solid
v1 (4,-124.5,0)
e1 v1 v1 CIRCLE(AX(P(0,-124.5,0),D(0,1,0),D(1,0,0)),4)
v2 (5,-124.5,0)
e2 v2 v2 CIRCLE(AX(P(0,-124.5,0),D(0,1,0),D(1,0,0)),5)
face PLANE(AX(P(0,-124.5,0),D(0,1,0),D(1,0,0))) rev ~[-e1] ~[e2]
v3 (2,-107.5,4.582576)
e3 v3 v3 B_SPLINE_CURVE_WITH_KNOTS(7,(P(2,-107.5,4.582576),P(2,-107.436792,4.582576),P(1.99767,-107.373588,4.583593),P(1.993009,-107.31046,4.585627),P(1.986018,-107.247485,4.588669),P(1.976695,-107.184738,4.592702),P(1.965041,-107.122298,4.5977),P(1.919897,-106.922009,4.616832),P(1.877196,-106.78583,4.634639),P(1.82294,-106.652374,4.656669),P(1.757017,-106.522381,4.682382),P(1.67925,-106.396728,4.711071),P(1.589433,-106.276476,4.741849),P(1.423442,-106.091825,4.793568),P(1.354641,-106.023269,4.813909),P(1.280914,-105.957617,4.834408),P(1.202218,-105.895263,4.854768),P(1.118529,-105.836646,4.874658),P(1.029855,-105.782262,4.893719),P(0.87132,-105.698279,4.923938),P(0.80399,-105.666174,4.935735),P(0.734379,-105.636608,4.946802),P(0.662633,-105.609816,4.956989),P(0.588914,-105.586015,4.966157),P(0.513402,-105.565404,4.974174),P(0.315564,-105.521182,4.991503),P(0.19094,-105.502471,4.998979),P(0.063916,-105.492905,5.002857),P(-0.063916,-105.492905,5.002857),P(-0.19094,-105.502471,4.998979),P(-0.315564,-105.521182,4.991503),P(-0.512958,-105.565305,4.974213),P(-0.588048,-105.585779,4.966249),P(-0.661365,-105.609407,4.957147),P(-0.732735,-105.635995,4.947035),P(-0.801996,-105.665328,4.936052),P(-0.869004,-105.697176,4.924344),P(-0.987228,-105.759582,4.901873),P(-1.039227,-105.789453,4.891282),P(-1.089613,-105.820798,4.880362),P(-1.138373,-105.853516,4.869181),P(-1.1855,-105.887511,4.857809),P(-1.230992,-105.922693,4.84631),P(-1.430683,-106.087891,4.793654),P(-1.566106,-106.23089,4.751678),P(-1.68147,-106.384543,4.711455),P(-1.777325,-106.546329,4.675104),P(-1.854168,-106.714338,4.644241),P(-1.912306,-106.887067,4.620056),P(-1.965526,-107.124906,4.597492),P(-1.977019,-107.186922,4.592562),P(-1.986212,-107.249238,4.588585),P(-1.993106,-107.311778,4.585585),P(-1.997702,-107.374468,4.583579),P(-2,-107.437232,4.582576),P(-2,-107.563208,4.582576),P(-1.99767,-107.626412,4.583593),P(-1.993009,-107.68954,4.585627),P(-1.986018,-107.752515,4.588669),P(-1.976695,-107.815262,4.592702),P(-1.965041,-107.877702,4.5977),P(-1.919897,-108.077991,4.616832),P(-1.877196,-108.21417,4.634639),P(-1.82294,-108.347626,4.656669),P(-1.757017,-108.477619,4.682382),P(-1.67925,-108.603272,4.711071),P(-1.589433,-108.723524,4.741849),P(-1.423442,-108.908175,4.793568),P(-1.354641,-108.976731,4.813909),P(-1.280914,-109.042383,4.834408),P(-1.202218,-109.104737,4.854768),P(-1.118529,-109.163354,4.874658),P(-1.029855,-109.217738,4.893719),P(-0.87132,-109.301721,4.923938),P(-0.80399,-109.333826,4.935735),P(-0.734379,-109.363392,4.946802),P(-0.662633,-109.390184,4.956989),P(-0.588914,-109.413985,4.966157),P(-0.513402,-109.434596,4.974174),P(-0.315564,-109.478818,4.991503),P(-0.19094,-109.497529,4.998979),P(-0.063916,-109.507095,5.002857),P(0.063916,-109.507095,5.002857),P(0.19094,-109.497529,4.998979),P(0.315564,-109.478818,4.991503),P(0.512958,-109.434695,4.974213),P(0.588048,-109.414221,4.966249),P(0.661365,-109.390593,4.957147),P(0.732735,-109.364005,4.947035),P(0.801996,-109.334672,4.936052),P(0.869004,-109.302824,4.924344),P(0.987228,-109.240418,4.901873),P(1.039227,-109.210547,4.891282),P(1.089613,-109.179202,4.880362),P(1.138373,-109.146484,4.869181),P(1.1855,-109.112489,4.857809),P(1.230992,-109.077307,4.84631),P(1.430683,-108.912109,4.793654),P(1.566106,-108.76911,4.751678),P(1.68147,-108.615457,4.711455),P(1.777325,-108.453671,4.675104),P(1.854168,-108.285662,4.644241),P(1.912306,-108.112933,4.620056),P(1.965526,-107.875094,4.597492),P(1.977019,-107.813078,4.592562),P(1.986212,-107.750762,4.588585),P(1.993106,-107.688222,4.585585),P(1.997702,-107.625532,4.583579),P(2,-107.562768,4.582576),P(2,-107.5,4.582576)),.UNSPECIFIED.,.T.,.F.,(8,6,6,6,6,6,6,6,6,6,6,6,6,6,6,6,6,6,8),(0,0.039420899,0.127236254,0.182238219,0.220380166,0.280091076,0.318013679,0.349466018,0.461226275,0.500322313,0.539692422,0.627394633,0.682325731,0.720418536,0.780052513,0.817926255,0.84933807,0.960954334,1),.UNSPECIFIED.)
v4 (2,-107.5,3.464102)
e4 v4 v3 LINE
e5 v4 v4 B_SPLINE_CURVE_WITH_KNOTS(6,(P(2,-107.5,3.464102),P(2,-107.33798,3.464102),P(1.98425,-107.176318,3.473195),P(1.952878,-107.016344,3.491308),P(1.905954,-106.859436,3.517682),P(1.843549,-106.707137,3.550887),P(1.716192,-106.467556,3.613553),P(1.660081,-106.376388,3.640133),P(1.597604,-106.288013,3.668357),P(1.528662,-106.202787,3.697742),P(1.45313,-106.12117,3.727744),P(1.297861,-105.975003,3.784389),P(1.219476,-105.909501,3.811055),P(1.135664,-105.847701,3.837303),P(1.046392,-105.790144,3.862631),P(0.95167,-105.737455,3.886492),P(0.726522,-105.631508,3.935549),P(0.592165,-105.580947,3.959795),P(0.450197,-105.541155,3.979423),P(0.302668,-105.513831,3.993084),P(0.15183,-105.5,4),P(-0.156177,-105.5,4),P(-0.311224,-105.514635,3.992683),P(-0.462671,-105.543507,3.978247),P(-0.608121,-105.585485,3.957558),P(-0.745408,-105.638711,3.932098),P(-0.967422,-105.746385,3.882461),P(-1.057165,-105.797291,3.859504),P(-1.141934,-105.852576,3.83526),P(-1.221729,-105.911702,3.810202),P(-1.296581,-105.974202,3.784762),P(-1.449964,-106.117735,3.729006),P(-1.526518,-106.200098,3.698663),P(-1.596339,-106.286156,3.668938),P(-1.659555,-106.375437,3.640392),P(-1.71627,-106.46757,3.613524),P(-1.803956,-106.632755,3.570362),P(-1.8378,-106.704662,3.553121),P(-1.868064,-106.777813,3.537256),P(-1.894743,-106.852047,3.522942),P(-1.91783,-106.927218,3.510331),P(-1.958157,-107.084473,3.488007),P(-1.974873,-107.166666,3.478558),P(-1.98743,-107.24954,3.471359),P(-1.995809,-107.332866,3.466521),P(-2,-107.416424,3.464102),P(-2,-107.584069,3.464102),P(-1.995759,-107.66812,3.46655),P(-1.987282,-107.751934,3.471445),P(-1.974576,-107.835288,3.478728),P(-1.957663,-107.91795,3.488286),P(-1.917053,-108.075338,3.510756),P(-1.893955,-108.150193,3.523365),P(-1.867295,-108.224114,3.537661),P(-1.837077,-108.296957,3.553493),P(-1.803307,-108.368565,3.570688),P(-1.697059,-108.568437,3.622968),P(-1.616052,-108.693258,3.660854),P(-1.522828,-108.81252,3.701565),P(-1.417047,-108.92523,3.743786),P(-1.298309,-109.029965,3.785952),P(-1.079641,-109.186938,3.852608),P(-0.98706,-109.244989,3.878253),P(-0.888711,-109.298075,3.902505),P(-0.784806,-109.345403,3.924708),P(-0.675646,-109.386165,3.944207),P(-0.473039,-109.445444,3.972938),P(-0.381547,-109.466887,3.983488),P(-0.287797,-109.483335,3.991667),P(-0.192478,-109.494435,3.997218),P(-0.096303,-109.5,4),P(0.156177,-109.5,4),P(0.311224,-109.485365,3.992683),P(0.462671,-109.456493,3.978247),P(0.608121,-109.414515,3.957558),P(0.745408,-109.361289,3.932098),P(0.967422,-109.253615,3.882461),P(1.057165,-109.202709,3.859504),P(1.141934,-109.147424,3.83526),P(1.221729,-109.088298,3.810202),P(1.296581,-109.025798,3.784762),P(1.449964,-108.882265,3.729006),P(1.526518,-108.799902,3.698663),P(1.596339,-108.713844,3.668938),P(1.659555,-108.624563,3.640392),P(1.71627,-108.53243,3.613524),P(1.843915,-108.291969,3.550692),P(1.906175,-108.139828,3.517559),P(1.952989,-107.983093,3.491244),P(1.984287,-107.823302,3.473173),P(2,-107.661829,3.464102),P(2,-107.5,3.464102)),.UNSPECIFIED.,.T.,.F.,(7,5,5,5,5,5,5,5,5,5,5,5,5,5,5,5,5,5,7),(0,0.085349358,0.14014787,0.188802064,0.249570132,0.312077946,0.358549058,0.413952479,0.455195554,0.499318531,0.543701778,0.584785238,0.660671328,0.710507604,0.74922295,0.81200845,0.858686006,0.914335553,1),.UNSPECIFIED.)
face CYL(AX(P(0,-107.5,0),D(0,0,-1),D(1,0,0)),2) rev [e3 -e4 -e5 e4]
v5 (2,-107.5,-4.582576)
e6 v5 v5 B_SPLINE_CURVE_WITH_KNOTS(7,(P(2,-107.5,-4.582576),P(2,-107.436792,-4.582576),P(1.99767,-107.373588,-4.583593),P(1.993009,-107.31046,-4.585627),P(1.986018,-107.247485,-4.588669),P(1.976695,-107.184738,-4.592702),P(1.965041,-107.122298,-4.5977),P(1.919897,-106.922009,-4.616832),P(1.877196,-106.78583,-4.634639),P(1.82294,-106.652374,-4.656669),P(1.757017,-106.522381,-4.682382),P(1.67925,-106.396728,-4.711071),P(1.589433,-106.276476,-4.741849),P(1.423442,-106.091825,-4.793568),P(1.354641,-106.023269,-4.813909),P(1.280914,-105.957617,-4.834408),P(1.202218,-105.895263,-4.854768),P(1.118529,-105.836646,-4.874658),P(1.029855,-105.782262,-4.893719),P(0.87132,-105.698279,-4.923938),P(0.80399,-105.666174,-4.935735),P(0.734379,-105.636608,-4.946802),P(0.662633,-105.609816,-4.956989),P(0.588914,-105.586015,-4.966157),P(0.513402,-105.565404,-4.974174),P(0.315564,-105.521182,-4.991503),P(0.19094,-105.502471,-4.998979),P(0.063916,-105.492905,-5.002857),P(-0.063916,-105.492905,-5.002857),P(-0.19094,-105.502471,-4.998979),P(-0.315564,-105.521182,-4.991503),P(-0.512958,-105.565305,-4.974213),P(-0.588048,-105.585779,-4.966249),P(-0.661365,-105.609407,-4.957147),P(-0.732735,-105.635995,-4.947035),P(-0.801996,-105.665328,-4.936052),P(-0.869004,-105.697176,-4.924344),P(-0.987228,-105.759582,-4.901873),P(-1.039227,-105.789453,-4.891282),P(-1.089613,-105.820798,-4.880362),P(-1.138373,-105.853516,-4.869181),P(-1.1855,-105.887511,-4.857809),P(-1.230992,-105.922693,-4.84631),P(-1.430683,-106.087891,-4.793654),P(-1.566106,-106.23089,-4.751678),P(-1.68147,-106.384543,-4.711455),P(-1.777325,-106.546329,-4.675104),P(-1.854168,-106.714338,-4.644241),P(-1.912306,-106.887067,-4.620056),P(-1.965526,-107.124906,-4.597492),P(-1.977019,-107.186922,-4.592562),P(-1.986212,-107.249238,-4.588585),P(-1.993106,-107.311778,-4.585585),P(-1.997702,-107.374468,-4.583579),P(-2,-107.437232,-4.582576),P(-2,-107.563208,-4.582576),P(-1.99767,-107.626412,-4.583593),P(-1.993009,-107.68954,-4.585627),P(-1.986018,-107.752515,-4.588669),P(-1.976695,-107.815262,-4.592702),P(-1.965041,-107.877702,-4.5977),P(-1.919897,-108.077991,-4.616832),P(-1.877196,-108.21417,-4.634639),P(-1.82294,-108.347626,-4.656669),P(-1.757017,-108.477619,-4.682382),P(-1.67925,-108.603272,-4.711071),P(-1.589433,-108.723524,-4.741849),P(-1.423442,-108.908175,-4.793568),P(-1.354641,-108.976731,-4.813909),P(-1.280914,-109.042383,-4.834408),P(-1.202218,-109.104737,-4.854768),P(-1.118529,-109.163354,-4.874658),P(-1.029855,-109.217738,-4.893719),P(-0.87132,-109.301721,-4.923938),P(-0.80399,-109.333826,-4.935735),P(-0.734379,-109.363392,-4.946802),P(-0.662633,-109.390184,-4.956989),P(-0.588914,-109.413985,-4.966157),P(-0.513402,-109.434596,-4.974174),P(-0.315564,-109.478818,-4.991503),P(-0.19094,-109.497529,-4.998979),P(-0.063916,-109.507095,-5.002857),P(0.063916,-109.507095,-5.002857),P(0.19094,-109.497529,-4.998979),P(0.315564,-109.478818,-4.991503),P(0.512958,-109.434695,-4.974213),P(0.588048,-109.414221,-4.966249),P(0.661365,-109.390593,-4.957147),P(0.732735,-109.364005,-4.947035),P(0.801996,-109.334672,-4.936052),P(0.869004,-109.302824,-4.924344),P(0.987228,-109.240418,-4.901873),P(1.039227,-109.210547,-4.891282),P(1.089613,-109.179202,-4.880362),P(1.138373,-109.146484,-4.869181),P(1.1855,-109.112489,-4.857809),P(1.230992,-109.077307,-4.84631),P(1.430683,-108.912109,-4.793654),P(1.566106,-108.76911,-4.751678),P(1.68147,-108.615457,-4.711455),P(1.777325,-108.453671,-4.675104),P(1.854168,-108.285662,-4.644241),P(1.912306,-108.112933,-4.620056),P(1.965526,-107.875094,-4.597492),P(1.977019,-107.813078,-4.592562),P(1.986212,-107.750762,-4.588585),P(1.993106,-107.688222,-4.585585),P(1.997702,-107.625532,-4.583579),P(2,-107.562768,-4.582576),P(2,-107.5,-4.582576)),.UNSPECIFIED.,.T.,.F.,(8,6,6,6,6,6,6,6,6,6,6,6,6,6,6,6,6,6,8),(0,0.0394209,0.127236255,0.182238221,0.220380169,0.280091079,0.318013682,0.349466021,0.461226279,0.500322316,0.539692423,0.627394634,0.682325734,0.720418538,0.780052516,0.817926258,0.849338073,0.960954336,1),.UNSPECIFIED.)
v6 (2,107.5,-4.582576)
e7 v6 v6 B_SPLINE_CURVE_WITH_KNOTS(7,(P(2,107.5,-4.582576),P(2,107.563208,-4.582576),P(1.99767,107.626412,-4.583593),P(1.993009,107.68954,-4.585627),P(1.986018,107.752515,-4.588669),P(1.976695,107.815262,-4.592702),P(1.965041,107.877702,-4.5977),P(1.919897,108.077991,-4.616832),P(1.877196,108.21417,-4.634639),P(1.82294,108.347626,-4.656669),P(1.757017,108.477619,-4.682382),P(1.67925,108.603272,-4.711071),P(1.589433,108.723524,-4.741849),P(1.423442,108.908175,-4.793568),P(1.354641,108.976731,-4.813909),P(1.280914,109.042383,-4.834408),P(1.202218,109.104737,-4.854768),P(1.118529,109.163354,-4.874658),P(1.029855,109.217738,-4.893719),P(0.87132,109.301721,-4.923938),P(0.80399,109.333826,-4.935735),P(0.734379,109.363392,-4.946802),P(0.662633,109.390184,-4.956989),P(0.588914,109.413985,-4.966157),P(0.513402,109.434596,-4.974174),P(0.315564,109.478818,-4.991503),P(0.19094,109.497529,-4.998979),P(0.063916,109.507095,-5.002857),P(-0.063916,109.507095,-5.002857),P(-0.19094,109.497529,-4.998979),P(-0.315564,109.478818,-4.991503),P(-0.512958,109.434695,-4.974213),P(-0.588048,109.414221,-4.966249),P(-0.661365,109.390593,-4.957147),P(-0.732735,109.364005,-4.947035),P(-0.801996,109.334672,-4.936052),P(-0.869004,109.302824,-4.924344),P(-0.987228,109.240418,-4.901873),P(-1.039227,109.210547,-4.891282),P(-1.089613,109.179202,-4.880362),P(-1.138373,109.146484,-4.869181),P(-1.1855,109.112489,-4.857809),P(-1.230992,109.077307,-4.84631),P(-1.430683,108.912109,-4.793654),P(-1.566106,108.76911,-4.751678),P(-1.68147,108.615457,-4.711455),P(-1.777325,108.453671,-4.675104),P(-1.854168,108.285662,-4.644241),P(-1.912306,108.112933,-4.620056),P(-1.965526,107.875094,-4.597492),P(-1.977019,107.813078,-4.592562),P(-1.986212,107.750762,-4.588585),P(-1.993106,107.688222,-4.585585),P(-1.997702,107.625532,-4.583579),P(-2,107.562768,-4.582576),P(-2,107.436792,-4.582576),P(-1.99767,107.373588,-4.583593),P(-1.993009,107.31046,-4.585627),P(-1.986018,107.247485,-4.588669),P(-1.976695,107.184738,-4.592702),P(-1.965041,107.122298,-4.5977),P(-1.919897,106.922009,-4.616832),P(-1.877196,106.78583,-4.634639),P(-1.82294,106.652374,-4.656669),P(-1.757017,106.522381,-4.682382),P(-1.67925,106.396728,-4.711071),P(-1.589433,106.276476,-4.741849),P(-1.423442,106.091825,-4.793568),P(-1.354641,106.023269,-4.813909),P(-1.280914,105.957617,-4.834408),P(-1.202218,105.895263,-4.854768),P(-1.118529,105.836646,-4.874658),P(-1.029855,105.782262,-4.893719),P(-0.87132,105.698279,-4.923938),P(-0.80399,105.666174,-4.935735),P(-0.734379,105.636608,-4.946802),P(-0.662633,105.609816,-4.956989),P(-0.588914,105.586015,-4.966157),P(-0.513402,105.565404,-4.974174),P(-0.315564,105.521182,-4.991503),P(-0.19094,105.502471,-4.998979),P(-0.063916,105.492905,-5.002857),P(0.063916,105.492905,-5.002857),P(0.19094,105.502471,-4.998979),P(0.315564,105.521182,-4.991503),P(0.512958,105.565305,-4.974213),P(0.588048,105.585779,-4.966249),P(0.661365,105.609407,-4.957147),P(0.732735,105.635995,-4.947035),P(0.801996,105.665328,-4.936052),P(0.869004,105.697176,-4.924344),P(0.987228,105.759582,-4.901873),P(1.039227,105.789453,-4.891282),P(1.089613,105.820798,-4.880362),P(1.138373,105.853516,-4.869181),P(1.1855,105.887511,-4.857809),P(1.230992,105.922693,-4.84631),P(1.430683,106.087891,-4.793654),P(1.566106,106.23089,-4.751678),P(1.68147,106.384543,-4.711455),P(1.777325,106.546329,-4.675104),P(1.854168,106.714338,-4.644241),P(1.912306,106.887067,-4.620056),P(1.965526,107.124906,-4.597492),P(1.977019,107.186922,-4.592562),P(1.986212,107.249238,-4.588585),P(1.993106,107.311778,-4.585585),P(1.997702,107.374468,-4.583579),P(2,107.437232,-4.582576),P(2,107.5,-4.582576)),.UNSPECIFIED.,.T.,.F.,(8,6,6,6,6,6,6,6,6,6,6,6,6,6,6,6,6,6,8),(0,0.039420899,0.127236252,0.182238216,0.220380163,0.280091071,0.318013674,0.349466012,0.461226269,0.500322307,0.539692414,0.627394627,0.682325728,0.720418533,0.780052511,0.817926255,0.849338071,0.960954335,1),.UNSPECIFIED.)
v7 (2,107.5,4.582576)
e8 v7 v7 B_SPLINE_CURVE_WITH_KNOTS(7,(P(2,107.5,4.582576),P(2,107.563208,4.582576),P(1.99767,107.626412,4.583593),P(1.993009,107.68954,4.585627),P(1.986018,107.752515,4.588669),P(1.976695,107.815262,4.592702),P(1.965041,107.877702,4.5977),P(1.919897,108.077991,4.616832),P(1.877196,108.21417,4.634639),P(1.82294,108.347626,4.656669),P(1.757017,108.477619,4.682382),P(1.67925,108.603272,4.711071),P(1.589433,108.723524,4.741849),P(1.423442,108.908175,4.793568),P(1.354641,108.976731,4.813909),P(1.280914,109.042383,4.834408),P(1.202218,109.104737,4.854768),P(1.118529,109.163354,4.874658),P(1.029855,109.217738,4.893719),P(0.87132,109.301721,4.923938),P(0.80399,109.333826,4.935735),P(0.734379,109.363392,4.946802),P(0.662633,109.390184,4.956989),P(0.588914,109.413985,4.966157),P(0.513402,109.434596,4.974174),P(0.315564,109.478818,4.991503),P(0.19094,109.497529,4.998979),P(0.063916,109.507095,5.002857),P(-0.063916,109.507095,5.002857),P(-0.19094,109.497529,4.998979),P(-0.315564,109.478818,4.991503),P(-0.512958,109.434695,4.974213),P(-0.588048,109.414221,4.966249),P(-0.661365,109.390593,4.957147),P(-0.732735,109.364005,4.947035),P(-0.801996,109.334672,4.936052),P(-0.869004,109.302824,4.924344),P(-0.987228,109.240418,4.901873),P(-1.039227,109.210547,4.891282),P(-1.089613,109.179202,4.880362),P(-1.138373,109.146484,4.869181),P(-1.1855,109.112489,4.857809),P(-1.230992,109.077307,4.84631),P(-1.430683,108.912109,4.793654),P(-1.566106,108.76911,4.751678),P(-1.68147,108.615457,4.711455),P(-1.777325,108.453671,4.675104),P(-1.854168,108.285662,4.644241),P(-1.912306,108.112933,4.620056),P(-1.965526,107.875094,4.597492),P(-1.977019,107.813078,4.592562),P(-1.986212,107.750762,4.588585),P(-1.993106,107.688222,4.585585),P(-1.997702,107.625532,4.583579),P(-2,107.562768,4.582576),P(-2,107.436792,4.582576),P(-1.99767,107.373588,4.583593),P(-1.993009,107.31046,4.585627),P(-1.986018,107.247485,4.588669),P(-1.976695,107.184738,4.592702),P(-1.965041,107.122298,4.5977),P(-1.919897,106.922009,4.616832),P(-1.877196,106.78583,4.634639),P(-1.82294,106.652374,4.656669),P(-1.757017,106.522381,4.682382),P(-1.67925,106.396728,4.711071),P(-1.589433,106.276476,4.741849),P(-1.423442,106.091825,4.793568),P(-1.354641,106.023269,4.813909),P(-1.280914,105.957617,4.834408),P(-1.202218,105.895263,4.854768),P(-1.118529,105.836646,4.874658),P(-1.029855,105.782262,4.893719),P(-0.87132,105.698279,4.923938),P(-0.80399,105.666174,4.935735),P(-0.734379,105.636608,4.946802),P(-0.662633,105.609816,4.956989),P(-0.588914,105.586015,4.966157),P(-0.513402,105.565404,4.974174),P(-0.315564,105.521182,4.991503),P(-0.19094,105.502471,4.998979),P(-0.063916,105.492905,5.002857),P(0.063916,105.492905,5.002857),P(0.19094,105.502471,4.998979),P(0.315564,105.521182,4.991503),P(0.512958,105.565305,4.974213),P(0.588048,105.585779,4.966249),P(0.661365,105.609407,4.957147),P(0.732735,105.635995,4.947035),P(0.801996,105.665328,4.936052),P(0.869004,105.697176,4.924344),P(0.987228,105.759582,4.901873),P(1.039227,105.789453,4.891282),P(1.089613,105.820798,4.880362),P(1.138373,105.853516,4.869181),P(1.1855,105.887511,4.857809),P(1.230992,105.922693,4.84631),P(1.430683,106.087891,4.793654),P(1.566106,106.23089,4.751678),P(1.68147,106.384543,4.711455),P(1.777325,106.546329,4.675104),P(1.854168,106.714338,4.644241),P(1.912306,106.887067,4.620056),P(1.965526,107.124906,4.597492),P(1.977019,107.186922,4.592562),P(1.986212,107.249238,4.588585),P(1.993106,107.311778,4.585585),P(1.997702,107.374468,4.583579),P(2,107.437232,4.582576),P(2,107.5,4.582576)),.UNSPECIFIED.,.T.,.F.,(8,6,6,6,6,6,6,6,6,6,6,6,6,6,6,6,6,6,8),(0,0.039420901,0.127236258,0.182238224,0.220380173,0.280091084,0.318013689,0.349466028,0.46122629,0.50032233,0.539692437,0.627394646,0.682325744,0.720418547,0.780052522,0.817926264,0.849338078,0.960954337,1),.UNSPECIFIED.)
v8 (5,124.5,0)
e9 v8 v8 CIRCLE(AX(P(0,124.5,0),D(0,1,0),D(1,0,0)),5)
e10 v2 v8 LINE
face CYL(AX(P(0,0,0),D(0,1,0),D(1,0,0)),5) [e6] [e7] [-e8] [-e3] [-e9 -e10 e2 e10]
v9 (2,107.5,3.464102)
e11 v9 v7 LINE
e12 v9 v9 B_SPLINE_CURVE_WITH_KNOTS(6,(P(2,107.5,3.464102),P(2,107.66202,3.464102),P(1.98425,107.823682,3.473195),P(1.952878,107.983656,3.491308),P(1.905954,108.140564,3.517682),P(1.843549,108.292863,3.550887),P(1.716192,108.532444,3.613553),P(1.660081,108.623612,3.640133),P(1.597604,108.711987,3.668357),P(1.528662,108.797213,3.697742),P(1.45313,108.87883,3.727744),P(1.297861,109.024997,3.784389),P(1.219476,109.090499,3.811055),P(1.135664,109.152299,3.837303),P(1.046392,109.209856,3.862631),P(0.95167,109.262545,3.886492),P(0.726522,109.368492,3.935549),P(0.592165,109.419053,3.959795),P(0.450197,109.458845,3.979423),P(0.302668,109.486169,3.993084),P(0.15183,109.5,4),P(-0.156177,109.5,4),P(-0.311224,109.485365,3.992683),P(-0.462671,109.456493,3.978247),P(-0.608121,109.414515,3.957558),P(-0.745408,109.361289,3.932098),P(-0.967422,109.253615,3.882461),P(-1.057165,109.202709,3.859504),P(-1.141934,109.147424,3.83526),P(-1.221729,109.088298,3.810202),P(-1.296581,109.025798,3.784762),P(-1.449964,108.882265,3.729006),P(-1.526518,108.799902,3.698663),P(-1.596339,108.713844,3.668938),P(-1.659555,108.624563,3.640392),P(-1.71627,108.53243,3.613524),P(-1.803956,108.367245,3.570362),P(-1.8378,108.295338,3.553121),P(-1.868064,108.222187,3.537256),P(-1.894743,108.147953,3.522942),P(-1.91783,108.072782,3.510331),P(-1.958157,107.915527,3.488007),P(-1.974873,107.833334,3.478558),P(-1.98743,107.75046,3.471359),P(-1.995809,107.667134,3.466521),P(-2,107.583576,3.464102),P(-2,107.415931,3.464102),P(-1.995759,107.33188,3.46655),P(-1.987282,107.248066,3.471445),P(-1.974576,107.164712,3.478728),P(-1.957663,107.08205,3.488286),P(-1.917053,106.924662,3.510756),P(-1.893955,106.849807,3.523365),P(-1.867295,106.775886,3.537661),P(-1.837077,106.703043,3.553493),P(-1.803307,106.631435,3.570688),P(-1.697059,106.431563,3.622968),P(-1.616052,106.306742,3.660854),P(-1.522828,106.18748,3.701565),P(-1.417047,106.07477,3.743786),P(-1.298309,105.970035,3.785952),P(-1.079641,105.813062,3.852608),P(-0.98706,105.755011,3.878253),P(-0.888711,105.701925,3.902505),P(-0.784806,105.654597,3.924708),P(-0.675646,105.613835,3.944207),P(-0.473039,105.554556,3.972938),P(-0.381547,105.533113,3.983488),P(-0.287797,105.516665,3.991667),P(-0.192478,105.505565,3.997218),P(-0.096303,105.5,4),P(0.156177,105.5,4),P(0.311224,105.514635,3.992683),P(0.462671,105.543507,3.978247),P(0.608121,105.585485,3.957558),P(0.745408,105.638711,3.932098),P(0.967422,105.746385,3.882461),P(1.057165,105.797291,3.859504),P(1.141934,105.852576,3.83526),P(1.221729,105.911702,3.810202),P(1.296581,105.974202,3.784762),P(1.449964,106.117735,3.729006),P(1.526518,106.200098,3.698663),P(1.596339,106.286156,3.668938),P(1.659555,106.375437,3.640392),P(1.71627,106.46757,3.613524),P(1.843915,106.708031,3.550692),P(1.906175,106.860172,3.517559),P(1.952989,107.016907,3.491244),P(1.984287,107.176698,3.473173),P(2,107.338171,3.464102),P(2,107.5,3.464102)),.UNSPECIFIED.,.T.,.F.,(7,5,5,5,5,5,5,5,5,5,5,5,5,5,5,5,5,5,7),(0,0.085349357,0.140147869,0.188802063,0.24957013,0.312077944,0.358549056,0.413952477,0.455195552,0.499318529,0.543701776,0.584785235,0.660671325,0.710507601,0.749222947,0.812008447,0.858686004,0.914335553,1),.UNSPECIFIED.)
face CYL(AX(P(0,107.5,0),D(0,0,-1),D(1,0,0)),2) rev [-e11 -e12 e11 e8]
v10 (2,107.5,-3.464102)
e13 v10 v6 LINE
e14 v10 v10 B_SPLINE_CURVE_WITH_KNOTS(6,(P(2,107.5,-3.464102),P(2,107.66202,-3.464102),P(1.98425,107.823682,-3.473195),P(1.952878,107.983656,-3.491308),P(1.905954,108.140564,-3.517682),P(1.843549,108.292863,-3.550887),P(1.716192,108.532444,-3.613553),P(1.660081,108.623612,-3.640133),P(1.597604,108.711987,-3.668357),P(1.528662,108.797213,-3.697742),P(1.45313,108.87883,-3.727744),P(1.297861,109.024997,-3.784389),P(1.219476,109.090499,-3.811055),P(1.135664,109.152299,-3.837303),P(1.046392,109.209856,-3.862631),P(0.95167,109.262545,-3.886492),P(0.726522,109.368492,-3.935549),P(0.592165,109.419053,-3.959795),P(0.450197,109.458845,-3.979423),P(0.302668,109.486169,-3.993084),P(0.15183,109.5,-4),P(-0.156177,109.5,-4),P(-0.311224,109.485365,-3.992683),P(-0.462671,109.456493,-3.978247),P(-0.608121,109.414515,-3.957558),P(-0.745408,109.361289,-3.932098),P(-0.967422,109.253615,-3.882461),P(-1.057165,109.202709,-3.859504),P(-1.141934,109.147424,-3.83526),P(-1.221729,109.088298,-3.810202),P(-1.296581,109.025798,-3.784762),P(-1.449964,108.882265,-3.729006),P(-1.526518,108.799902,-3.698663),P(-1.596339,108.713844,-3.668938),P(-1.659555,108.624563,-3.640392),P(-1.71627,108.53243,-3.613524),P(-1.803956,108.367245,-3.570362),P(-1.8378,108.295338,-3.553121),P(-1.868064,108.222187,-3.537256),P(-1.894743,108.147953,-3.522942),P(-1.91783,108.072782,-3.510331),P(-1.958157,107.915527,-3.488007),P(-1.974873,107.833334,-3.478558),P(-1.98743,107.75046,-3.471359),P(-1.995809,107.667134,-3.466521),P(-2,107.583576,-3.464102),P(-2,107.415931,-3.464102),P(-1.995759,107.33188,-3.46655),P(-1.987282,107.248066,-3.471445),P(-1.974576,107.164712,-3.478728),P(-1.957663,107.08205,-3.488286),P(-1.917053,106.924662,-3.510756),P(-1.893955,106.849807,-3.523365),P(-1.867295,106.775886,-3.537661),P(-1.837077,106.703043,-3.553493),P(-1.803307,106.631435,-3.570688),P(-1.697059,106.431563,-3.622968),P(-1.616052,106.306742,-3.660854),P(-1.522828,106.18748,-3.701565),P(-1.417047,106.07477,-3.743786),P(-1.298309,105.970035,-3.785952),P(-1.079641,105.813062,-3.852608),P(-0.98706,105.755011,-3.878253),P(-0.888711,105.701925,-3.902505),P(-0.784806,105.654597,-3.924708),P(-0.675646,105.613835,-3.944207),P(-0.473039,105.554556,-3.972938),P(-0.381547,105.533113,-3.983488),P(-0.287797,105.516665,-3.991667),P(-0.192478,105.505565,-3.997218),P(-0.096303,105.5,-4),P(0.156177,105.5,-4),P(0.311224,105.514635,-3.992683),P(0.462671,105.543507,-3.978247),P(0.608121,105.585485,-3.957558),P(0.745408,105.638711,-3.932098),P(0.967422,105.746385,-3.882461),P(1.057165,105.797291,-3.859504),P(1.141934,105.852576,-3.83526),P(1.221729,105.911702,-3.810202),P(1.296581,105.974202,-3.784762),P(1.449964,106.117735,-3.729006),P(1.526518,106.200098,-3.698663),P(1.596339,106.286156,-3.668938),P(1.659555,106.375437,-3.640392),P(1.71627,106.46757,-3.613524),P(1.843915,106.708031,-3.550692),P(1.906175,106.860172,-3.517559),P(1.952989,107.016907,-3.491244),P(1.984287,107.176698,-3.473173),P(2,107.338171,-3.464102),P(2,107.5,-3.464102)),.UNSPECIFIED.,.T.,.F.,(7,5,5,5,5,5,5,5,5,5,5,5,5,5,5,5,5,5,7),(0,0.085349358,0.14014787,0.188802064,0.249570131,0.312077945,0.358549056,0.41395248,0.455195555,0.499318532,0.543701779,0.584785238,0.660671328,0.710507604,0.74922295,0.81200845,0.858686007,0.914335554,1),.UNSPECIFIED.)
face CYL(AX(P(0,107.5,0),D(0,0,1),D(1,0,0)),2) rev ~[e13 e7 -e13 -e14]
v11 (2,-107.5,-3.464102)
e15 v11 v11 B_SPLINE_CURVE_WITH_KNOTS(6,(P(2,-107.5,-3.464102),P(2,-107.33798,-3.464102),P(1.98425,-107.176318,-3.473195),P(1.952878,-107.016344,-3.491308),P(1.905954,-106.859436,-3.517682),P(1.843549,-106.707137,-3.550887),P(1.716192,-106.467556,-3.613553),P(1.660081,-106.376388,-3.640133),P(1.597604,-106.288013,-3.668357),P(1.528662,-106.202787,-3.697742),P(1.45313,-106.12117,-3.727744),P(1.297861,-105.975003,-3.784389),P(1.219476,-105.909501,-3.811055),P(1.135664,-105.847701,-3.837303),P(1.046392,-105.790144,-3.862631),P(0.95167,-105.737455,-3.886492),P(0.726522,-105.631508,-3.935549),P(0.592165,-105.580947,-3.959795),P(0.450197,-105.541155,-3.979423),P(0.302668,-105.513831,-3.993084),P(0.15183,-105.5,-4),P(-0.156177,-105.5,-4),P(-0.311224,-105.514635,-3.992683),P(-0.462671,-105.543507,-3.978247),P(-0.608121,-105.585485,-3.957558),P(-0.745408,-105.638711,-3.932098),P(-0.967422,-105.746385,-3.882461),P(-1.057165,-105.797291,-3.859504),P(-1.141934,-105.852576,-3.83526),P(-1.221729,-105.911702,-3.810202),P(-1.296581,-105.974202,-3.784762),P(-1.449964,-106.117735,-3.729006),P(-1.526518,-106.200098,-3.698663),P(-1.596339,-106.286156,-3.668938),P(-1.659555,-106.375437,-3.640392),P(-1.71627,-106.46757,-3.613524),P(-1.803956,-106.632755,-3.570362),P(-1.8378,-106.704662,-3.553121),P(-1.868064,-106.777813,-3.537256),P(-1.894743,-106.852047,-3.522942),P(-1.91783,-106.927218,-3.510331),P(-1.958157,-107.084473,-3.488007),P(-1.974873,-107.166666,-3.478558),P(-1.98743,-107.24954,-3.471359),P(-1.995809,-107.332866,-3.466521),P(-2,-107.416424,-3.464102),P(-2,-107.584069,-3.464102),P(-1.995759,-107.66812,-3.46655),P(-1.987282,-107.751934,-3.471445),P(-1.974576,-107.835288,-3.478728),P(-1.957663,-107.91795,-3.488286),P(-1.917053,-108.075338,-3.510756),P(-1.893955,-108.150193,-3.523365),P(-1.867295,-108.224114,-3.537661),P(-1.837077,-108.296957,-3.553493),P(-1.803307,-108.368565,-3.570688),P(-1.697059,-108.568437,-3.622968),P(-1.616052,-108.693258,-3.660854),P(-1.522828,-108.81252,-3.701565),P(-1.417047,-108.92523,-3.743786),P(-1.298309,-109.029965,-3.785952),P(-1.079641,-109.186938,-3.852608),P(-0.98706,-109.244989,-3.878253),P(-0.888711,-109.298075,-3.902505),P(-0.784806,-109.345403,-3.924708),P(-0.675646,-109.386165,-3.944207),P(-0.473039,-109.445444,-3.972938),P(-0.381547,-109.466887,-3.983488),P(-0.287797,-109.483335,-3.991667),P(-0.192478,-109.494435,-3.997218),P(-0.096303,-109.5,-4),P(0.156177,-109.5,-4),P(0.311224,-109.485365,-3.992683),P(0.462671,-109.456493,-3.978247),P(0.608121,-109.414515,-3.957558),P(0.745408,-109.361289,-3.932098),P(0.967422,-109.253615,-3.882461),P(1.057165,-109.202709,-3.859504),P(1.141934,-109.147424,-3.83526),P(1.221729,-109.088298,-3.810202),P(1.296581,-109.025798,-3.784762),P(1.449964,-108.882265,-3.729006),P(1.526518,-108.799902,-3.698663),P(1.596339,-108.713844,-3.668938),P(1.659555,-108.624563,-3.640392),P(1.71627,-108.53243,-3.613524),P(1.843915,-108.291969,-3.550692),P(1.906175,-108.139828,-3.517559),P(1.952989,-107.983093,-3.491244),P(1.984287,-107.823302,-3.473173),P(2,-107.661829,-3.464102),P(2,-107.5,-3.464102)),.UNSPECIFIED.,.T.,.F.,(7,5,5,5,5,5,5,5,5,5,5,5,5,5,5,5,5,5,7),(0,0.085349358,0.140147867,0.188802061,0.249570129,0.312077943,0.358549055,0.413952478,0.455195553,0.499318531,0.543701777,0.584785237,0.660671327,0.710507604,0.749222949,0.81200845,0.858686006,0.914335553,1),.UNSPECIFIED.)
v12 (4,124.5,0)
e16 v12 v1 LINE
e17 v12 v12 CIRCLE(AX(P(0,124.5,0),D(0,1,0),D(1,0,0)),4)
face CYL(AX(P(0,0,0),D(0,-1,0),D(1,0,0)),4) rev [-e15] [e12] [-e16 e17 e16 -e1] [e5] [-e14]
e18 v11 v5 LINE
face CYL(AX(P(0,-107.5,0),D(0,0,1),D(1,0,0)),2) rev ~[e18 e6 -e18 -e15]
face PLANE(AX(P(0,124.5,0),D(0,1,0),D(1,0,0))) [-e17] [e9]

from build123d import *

# Parameters (mm, degrees)
SKETCH_1_R               = 5
SKETCH_1_R_2             = 4
EXTRUDE_1_DEPTH          = 124.5
SKETCH_2_R               = 2
CUT_EXTRUDE_1_DEPTH      = 6
CUT_EXTRUDE_1_DEPTH_BACK = 6


with BuildPart() as part:
    # 草图1 → 拉伸-薄壁1 (new body, symmetric)
    with BuildSketch(Plane(origin=(0, 0, 0), x_dir=(1, 0, 0), z_dir=(0, 1, 0))):
        Circle(SKETCH_1_R)
        Circle(SKETCH_1_R_2, mode=Mode.SUBTRACT)
    extrude(amount=EXTRUDE_1_DEPTH, both=True)

    # 草图2 → 切除-拉伸1 (cut, two sides)
    with BuildSketch(Plane.XY) as cut_extrude_1_sk:
        with Locations((0, -107.5)):
            Circle(SKETCH_2_R)
        with Locations((0, 107.5)):
            Circle(SKETCH_2_R)
    extrude(amount=CUT_EXTRUDE_1_DEPTH, mode=Mode.SUBTRACT)
    extrude(cut_extrude_1_sk.sketch, amount=-CUT_EXTRUDE_1_DEPTH_BACK, mode=Mode.SUBTRACT)


solid = part.part
